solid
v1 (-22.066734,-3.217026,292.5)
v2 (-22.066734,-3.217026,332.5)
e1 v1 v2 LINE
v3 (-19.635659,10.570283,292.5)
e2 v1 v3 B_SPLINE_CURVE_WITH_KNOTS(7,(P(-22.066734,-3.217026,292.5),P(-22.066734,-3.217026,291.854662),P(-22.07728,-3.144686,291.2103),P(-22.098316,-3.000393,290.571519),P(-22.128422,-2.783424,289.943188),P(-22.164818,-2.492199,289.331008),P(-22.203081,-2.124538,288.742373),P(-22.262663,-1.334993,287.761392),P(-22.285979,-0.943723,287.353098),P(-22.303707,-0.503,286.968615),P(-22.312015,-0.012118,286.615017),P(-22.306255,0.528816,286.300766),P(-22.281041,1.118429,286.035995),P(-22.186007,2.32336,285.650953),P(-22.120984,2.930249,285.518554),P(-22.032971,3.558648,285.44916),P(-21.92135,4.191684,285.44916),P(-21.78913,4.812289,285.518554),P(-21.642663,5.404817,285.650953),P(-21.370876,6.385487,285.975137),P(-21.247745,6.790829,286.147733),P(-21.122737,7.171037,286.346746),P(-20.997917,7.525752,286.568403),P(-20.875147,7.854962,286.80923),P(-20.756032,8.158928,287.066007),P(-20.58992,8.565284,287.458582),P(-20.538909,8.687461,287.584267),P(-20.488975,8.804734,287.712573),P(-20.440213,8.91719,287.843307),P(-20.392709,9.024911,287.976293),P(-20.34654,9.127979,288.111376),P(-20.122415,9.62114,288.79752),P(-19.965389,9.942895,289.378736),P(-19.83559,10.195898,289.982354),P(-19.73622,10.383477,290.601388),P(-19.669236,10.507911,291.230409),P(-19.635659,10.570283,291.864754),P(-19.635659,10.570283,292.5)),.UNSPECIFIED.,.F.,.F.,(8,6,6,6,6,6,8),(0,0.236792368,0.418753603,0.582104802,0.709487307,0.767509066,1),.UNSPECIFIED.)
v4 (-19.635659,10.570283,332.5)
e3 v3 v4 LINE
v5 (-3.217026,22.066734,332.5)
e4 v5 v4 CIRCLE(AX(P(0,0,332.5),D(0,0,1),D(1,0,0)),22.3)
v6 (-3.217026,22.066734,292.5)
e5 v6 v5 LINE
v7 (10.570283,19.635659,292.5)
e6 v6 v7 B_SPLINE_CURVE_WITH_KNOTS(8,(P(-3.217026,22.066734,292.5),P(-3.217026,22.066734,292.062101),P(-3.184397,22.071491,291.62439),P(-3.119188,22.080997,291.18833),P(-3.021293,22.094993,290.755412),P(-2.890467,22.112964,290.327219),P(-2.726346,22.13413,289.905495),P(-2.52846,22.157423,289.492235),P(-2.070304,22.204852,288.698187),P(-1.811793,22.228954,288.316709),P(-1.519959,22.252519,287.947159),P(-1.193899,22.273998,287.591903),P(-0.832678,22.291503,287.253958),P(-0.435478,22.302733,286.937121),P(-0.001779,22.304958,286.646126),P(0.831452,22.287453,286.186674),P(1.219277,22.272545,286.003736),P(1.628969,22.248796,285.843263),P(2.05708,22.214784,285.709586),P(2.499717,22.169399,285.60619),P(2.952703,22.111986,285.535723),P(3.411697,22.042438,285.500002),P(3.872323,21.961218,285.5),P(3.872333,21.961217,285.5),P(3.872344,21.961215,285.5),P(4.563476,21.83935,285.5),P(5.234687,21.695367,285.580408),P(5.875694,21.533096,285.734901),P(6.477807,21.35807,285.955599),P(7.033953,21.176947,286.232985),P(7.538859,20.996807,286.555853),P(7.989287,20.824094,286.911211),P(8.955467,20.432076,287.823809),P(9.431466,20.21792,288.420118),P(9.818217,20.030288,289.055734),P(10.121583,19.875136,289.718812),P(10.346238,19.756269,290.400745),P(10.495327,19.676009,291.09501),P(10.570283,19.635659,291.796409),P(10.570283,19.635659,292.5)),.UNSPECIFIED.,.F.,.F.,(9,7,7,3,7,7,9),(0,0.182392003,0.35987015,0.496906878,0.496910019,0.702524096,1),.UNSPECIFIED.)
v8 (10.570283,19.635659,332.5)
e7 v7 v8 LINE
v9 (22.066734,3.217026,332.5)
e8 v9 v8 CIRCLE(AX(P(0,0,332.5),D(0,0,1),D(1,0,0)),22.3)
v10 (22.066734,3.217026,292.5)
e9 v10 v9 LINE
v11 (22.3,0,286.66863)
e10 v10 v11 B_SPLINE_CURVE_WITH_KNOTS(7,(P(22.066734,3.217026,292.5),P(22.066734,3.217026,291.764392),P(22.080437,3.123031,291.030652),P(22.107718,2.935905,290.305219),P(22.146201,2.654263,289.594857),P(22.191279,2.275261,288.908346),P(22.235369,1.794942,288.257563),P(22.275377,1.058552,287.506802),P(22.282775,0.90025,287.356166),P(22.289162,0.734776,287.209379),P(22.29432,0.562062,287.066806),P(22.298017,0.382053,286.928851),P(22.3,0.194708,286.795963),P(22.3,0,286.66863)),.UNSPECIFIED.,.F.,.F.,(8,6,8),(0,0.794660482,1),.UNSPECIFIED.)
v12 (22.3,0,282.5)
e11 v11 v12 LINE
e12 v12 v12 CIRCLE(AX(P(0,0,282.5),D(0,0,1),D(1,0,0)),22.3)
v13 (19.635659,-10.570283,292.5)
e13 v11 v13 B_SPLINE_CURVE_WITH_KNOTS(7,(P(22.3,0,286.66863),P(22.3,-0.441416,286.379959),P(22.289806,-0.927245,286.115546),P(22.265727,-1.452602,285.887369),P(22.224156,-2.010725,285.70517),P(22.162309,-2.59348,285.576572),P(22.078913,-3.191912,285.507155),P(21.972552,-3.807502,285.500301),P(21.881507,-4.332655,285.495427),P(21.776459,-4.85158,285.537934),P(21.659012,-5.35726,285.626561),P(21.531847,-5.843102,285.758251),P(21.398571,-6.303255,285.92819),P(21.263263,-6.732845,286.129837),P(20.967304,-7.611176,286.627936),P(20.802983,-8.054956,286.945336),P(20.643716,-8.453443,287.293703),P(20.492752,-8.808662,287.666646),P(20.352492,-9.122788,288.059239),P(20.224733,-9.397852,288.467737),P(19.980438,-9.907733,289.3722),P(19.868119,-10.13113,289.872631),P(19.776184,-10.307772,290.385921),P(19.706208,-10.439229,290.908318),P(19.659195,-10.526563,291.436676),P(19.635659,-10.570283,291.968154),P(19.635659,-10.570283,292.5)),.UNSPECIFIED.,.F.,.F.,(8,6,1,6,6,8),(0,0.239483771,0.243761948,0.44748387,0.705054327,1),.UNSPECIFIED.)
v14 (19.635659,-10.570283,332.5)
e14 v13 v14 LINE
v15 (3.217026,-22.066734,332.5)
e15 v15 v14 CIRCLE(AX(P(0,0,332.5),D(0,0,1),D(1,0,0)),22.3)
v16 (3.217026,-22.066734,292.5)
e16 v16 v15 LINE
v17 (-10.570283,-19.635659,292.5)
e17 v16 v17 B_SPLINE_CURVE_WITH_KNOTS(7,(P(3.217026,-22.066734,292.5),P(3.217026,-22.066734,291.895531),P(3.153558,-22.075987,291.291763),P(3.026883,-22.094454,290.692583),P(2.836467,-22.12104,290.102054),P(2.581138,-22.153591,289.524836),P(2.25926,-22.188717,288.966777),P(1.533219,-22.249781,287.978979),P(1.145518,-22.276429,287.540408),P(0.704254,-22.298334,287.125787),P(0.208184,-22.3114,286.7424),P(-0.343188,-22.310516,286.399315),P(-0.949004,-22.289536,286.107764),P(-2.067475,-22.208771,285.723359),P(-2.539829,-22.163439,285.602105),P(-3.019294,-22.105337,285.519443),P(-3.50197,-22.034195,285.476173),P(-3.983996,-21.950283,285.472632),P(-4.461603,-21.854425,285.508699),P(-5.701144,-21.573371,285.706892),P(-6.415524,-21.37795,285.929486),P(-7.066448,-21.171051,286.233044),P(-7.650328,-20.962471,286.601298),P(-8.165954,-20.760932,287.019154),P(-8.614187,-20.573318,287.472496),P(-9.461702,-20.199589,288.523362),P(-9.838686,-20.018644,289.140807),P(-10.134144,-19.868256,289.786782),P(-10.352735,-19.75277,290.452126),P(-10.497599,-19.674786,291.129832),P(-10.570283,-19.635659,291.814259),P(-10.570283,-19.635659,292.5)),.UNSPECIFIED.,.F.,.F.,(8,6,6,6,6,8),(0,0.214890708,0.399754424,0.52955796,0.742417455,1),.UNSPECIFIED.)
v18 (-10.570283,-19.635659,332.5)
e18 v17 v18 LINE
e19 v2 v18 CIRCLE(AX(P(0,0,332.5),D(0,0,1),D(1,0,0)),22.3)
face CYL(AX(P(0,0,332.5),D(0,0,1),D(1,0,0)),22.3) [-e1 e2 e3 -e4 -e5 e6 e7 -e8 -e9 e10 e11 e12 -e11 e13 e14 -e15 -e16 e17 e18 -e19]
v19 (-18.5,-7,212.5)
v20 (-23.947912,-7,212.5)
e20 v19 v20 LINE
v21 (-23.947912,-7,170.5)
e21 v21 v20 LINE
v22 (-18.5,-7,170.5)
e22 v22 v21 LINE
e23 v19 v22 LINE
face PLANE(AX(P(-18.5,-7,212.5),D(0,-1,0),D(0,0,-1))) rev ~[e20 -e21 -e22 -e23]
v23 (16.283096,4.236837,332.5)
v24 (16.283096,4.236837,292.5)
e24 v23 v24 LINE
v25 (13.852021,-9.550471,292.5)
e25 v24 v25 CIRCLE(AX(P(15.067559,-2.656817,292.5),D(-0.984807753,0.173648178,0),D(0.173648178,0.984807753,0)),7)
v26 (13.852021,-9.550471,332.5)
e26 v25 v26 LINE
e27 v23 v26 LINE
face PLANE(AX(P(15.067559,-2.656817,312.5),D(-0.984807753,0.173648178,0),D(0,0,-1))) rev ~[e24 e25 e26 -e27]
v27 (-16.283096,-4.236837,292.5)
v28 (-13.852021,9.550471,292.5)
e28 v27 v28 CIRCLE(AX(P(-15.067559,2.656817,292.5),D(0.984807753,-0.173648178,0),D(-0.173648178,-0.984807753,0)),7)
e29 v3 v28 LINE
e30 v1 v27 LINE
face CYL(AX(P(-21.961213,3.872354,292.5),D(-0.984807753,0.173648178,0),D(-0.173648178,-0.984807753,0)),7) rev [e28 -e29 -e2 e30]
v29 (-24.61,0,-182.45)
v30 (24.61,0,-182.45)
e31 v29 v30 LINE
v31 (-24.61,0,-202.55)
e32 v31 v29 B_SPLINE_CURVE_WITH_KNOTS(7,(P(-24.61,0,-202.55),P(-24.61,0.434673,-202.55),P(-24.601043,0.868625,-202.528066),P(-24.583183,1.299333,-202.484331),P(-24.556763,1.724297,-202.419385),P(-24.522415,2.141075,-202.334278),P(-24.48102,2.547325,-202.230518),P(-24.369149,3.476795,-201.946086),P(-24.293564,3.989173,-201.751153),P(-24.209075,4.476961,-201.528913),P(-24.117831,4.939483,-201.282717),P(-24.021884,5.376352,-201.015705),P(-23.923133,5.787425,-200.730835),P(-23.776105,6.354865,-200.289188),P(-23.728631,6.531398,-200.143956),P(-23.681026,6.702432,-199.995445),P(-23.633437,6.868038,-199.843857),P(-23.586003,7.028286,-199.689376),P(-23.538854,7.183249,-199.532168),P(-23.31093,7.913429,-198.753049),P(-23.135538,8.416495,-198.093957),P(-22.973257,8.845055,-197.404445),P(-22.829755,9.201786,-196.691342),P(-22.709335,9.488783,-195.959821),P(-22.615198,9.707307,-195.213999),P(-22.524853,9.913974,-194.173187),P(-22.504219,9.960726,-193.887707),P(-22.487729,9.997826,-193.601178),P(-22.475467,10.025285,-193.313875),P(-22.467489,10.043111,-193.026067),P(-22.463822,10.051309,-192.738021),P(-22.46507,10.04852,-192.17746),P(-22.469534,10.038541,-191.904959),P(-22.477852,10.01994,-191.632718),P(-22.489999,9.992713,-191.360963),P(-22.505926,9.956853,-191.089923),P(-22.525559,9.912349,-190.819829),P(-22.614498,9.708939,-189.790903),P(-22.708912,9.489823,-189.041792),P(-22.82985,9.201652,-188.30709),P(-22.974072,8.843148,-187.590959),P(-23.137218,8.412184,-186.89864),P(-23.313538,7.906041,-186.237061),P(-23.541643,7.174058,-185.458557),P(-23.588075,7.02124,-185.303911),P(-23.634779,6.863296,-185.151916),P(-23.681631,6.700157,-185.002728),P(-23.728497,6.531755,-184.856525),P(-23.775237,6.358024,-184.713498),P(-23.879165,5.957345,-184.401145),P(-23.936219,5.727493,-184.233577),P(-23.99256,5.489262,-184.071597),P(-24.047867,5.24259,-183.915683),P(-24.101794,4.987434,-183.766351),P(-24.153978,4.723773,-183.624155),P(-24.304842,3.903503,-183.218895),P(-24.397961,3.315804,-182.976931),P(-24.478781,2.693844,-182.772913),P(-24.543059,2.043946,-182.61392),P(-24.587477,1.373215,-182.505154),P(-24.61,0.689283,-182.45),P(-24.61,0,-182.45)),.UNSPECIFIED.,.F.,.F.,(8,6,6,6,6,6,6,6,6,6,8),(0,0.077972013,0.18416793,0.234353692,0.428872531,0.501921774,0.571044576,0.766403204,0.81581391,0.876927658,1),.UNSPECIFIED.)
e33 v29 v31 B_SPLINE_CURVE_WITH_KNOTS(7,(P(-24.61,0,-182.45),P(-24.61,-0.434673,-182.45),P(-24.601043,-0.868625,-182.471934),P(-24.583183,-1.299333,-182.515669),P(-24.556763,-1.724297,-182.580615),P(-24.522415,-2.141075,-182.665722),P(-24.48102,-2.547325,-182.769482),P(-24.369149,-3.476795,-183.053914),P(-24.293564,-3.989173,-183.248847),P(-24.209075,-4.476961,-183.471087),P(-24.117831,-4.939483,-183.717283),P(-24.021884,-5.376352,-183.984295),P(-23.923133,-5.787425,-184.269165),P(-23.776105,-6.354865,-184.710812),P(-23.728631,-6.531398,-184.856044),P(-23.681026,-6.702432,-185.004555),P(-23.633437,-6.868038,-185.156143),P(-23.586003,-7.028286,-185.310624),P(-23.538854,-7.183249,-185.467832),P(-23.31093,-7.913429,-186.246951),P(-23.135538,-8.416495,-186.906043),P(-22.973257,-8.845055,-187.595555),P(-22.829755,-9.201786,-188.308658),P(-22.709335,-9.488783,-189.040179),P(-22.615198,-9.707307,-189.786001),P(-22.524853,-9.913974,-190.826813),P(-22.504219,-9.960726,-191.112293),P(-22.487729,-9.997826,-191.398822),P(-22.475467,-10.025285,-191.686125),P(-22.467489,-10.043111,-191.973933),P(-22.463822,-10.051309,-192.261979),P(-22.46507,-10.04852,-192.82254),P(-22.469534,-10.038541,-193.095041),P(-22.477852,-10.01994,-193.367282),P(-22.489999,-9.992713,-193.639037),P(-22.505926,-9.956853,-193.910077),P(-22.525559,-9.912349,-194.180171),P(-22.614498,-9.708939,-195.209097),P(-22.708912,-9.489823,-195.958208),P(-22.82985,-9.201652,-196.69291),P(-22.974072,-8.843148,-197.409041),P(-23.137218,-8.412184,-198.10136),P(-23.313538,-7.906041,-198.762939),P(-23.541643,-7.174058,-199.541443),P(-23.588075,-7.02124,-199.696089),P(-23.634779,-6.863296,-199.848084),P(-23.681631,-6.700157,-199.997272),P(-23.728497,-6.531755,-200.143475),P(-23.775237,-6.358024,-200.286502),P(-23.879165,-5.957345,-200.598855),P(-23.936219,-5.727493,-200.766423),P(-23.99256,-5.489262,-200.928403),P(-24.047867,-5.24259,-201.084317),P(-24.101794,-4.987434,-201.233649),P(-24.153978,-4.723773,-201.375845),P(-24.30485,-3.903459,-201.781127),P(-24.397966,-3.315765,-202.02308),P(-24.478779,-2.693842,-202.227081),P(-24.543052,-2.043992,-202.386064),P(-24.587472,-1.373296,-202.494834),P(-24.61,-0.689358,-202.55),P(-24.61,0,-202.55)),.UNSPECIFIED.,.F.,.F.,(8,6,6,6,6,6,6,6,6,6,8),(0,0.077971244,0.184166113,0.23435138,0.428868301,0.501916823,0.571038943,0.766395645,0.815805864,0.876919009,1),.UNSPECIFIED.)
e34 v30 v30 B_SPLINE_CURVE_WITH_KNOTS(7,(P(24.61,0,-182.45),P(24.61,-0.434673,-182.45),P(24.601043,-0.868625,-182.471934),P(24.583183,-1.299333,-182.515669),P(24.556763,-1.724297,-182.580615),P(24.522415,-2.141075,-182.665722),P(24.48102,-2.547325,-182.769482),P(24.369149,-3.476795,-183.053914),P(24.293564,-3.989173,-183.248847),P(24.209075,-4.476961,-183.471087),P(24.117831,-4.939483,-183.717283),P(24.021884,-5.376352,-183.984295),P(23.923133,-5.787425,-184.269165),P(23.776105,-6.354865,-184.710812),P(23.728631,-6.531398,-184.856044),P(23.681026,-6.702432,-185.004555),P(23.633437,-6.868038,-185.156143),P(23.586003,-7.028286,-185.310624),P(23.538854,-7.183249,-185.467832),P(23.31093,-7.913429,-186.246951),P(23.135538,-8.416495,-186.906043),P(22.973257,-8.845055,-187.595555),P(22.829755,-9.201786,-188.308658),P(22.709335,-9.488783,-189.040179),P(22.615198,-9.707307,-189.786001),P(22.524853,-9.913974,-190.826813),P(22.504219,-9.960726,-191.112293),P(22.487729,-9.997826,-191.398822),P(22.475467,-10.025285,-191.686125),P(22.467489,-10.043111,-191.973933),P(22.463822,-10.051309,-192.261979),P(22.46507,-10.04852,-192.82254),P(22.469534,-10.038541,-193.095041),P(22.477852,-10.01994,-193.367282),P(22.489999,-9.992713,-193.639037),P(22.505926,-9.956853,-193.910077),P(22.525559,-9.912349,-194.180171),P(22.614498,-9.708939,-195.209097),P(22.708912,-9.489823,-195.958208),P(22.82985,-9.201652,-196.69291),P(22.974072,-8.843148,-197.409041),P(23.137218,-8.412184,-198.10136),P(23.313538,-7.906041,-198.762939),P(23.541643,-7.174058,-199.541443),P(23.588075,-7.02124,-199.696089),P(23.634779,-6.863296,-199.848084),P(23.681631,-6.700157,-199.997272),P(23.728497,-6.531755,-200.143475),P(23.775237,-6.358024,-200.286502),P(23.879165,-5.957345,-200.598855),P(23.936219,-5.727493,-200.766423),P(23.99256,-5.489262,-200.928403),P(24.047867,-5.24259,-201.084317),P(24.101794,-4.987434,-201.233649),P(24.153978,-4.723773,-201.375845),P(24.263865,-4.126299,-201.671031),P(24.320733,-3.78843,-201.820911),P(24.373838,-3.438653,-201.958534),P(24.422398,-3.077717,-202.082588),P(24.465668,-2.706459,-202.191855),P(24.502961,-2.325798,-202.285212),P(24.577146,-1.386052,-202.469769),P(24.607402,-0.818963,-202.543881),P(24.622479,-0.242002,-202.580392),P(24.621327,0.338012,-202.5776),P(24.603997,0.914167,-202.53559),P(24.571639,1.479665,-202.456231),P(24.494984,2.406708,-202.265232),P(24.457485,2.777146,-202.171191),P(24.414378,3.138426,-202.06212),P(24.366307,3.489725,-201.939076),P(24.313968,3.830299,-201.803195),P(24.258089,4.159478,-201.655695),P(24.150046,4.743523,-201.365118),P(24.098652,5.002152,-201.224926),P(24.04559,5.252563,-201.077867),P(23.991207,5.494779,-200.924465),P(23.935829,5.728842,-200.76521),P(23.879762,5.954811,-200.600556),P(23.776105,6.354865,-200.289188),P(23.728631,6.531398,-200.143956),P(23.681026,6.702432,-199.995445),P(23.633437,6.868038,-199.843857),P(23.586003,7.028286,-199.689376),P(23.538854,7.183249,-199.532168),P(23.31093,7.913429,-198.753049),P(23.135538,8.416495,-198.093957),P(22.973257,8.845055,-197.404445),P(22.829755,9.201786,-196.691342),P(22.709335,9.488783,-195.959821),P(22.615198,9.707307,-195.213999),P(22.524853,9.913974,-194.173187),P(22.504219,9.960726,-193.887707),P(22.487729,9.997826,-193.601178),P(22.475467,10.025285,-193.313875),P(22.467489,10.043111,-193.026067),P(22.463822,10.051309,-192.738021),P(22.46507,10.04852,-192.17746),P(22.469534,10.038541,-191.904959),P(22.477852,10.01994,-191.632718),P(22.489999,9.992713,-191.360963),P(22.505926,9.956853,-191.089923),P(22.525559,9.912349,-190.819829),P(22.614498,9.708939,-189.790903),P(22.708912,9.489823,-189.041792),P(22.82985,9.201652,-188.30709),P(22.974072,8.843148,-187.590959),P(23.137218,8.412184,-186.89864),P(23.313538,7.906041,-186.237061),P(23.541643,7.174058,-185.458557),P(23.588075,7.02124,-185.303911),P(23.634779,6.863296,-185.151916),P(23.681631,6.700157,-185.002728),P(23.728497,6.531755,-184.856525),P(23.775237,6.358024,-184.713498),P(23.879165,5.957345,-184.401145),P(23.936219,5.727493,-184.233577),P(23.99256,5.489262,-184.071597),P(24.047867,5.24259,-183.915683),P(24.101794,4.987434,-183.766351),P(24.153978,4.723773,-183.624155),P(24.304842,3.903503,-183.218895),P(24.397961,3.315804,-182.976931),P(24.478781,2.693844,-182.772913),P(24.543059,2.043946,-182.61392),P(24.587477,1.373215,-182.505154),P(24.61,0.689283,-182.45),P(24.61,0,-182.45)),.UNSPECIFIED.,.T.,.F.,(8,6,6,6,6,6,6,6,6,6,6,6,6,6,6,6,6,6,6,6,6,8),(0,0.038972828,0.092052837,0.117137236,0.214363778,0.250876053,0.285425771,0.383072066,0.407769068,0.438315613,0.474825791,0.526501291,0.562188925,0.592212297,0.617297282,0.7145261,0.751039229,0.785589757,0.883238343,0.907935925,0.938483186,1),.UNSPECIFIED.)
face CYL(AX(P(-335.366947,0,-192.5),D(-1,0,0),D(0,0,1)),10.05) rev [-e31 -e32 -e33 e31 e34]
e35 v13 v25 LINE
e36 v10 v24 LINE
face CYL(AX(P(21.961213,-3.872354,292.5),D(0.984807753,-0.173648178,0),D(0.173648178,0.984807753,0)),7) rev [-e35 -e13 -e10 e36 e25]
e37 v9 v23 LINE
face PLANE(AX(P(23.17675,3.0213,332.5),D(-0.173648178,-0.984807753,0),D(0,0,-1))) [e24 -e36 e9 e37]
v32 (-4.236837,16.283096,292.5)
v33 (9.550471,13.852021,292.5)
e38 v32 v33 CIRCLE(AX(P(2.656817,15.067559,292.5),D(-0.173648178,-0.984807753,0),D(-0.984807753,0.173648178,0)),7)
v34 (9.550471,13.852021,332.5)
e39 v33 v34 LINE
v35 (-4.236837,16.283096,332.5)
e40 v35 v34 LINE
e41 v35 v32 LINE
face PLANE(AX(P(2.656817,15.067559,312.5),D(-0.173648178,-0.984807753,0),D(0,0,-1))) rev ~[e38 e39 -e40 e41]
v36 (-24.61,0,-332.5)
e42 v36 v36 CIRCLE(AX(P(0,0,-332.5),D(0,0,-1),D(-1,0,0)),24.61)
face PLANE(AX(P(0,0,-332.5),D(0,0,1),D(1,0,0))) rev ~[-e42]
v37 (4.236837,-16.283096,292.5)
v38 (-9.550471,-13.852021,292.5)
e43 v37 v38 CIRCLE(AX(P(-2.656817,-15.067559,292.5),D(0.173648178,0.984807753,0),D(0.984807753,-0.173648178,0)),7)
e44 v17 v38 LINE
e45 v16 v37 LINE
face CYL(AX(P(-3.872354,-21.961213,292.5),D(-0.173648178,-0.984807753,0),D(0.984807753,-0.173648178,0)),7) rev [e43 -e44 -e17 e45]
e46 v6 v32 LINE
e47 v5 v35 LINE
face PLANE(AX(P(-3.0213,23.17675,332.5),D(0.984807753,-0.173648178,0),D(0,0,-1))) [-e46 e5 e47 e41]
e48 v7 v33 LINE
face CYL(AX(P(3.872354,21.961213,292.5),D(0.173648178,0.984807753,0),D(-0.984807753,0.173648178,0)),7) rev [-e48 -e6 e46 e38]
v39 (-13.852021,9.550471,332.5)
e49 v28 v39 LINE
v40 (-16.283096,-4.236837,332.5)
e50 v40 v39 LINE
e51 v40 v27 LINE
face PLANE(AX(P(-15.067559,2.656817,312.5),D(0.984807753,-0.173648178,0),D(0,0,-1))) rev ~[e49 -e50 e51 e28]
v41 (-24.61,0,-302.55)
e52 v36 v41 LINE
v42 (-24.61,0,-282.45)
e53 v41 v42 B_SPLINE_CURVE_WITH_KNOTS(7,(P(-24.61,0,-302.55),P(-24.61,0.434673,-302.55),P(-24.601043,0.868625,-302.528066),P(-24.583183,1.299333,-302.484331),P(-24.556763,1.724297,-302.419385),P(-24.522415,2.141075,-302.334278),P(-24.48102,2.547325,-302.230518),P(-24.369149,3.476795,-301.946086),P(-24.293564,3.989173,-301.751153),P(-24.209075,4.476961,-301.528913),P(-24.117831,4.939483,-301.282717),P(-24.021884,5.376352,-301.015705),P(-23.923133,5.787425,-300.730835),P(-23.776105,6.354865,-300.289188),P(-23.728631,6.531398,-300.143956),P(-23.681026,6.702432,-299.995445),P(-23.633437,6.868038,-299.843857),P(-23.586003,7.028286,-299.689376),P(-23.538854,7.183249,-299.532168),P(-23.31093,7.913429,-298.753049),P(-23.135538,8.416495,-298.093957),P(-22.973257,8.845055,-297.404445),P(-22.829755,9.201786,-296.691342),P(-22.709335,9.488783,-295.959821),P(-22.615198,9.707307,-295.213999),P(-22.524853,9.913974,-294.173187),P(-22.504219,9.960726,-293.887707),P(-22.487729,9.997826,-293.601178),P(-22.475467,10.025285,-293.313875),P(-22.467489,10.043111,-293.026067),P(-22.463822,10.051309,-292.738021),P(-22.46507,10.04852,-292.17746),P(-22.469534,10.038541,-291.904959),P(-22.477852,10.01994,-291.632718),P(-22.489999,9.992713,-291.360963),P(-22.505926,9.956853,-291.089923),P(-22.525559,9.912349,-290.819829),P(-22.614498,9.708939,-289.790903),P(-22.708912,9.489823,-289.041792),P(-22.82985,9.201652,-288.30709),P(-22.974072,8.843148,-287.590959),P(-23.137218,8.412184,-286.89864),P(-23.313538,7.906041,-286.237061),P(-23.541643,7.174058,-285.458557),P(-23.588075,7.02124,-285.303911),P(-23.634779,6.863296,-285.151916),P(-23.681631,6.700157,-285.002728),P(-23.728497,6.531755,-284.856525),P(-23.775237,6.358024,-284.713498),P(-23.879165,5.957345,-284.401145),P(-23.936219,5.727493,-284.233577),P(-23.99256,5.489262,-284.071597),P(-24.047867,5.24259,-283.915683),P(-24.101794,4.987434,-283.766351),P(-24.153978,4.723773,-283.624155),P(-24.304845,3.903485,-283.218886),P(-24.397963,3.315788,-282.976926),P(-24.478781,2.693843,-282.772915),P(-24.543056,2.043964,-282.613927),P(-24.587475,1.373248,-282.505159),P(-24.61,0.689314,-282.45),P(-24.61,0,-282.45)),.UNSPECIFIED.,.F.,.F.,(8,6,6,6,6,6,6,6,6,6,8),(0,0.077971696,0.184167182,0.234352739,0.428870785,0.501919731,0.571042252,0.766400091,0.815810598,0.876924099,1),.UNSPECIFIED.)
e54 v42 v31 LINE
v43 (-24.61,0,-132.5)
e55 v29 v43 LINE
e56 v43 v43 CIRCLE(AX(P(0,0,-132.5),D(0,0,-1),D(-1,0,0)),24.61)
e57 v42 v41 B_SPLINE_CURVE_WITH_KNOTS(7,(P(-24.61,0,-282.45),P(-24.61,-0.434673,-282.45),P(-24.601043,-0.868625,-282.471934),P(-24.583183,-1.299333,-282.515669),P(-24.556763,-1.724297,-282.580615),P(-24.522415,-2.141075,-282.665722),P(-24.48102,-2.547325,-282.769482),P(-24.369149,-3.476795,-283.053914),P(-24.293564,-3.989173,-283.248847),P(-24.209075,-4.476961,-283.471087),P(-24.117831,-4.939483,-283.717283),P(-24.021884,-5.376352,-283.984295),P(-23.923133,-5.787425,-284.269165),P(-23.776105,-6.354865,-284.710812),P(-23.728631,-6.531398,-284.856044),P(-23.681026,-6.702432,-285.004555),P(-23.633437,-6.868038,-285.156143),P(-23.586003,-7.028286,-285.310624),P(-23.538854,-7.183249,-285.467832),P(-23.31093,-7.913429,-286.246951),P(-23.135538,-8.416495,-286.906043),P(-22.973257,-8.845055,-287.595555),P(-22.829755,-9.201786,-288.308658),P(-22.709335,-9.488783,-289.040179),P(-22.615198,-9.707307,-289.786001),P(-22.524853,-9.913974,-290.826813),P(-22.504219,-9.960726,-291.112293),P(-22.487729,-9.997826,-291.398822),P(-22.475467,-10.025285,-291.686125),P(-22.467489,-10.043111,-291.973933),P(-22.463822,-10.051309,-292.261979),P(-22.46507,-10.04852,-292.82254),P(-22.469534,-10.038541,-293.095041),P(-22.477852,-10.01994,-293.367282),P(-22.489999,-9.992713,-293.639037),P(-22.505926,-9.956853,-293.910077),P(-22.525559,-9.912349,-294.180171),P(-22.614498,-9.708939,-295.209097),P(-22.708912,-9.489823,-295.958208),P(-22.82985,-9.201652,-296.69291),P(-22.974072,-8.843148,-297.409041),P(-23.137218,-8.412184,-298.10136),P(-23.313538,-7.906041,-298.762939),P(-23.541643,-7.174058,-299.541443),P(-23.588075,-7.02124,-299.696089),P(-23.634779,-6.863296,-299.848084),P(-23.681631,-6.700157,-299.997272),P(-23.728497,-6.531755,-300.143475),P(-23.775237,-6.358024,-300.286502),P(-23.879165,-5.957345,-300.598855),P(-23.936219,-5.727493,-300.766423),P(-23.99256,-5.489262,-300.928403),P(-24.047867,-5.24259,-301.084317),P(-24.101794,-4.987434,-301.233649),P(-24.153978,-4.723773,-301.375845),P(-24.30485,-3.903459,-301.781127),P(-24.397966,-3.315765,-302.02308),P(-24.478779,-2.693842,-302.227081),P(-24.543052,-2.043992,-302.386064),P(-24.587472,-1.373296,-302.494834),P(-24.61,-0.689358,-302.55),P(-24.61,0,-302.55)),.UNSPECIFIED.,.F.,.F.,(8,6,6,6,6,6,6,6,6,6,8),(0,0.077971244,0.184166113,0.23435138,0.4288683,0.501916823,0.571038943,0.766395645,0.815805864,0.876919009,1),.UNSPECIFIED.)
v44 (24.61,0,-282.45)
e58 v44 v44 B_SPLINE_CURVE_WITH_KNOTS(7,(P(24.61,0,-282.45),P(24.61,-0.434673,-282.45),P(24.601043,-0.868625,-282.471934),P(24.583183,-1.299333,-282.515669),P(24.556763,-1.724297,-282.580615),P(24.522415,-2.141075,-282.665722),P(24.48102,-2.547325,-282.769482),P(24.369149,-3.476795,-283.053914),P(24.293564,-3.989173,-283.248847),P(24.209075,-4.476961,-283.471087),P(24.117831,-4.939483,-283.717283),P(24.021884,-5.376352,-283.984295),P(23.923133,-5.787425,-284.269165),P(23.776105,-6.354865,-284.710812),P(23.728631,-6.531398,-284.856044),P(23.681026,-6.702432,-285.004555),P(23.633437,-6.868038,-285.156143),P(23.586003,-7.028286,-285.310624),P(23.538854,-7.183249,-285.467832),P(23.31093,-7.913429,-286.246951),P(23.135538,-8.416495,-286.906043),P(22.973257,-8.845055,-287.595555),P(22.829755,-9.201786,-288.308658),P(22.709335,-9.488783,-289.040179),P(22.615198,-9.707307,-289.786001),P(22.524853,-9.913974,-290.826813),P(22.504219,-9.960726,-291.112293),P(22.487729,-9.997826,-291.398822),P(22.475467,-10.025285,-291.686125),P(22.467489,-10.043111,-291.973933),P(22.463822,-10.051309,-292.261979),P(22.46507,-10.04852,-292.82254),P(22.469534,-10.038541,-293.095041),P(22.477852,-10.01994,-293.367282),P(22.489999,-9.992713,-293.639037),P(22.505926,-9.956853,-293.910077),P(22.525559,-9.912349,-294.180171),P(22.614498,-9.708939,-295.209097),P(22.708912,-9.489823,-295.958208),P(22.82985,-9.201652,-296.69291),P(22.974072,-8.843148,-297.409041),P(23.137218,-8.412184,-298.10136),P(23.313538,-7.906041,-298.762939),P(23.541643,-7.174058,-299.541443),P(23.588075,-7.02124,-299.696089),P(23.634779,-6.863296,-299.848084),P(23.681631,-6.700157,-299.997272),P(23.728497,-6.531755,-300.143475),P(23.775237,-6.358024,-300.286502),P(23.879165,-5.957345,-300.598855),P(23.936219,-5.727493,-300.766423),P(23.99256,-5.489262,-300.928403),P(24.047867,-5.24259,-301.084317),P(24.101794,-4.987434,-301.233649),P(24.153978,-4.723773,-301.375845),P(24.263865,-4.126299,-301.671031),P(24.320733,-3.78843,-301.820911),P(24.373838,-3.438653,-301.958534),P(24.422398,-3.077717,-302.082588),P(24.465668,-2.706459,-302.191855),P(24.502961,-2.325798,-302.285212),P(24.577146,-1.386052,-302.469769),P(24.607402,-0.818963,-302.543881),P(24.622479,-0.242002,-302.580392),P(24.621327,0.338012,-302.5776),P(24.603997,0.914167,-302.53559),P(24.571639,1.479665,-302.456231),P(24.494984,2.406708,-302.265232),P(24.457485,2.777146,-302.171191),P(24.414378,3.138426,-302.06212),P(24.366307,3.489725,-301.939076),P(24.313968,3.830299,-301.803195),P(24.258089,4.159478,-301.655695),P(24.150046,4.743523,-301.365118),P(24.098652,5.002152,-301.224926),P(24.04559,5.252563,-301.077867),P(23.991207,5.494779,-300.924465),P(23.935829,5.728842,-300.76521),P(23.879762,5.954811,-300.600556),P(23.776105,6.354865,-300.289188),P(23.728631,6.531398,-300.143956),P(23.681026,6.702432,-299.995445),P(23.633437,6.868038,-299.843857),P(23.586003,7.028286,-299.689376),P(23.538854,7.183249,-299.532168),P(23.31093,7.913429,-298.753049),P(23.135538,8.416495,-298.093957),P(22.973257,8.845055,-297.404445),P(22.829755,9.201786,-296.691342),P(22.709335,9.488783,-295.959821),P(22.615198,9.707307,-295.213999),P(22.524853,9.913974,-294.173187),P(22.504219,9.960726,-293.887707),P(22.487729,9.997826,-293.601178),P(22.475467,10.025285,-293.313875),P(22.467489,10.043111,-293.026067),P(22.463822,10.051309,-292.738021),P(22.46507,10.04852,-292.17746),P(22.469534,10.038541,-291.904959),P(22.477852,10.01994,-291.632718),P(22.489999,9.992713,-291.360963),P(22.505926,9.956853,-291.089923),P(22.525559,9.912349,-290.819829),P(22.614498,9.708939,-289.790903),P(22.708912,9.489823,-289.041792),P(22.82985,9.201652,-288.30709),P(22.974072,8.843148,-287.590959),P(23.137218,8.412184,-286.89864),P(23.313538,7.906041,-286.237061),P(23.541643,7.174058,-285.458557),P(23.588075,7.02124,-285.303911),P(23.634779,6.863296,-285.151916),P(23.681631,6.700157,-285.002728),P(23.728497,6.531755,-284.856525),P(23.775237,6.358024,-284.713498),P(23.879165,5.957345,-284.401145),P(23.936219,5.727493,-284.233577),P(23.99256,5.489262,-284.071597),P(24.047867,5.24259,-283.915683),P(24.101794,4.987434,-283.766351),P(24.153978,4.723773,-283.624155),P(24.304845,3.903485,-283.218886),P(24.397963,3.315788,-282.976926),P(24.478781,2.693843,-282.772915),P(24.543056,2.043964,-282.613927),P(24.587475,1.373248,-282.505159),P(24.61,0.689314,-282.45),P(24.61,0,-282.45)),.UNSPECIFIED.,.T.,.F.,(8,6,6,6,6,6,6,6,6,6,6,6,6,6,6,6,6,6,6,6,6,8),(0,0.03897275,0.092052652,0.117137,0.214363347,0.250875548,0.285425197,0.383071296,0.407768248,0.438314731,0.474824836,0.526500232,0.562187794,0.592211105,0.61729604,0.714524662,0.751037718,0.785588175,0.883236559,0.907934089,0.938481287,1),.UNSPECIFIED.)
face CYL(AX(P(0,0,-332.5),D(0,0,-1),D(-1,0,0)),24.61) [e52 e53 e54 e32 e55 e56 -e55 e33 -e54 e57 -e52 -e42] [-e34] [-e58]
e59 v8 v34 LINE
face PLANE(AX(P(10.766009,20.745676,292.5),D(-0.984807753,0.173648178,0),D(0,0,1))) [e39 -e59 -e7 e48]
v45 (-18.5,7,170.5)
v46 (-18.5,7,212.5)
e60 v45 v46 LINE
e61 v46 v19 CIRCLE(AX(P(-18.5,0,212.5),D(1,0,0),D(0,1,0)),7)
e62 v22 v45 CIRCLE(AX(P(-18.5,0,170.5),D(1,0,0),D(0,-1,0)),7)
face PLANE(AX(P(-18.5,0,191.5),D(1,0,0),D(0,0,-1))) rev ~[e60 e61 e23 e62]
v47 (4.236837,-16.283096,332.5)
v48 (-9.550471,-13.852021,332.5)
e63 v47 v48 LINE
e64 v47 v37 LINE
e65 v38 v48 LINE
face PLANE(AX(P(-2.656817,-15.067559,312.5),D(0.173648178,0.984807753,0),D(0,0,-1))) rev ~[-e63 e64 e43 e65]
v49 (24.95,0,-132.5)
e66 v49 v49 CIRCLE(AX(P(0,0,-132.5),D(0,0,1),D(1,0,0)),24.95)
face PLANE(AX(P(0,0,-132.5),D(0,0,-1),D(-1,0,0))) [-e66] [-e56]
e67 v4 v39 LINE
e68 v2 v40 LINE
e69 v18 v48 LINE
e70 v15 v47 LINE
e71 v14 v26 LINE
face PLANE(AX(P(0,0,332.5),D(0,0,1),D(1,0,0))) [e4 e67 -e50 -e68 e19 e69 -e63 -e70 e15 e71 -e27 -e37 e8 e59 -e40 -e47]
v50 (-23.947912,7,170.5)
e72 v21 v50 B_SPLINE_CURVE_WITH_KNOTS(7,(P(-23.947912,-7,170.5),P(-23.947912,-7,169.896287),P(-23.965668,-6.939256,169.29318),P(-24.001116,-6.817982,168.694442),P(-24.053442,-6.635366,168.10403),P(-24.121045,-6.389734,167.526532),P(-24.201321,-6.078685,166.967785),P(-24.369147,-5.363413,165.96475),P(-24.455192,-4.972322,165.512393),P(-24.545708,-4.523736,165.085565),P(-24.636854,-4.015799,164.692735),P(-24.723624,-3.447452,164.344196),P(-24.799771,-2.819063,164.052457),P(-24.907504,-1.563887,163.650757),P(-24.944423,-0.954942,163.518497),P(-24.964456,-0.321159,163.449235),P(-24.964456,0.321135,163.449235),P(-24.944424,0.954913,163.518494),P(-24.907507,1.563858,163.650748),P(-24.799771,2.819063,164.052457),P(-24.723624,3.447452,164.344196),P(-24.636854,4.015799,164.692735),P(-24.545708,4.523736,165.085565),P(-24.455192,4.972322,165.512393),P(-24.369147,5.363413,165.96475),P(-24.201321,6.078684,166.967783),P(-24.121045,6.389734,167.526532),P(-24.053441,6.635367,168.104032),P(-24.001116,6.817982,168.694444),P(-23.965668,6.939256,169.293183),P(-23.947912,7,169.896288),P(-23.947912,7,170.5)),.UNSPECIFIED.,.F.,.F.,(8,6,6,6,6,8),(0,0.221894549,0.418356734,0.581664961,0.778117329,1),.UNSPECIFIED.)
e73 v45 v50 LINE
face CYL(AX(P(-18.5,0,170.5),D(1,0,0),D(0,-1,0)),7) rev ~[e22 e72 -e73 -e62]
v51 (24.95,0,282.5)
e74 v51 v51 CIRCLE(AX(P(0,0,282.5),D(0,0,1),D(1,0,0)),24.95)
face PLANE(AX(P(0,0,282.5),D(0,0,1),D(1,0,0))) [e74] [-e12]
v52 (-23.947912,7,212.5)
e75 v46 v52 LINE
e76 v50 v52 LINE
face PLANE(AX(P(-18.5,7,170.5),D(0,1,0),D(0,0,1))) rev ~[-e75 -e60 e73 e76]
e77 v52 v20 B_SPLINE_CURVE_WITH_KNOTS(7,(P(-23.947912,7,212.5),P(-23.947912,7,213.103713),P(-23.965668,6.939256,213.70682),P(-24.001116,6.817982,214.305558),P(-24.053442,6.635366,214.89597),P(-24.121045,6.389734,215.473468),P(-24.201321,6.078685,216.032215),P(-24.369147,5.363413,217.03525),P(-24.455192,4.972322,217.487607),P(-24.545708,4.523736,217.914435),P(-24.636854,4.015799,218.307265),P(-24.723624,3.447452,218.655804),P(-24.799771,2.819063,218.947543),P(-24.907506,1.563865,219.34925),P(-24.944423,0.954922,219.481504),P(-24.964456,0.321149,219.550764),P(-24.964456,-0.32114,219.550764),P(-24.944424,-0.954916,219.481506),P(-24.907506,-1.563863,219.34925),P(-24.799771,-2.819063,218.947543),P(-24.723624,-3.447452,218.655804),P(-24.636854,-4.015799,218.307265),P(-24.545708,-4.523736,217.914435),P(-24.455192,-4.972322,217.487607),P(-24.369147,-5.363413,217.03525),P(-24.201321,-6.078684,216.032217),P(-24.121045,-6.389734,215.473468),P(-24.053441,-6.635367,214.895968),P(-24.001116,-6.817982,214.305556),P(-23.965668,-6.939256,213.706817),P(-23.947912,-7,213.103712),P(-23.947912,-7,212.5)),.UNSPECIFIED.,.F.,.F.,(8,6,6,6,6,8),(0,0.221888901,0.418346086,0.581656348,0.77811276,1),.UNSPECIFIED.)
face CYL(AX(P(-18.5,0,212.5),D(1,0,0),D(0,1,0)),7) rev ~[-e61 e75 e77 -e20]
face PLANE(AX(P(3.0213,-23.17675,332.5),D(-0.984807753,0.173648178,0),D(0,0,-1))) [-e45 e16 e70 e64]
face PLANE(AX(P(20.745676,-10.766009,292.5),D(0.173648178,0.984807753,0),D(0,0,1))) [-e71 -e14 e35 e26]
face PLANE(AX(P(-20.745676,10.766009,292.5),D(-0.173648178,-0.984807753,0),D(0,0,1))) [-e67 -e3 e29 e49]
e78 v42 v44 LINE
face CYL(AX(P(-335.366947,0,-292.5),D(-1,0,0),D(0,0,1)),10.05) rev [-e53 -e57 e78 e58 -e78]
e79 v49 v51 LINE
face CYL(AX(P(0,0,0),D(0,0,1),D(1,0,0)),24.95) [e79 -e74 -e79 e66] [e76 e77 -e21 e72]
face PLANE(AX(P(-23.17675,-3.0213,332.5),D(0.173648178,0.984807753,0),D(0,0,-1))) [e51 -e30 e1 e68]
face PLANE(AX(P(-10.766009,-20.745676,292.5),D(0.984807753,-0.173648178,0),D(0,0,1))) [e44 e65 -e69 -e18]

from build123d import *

# Parameters (mm, degrees)
SKETCH1_R               = 24.95
BOSS_EXTRUDE1_DEPTH     = 332.5
CUT_EXTRUDE1_DEPTH      = 335.366946632
CUT_EXTRUDE1_DEPTH_BACK = 335.366946632
SKETCH2_R               = 10.05
CUT_EXTRUDE2_DEPTH      = 337.253855116
SKETCH5_OUTSIDE_W       = 185.646
SKETCH5_OUTSIDE_H       = 185.646
SKETCH5_OUTSIDE_R       = 24.61
CUT_EXTRUDE4_DEPTH      = 200
SKETCH7_OUTSIDE_W       = 185.646
SKETCH7_OUTSIDE_H       = 185.646
SKETCH7_OUTSIDE_R       = 22.3
CUT_EXTRUDE6_DEPTH      = 50
CUT_EXTRUDE7_DEPTH      = 7
CIRPATTERN1_COUNT       = 4


with BuildPart() as part:
    # Sketch1 → Boss-Extrude1 (new, symmetric)
    with BuildSketch(Plane.XY):
        Circle(SKETCH1_R)
    extrude(amount=BOSS_EXTRUDE1_DEPTH, both=True)

    # Sketch2 → Cut-Extrude1 (cut, two sides: drawn at the far end of the back side and taken through both)
    with BuildSketch(Plane(origin=(0, 0, 0), x_dir=(0, 0, -1), z_dir=(1, 0, 0)).offset(-CUT_EXTRUDE1_DEPTH_BACK)):
        with Locations((192.5, 0)):
            Circle(SKETCH2_R)
        with Locations((292.5, 0)):
            Circle(SKETCH2_R)
    extrude(amount=CUT_EXTRUDE1_DEPTH + CUT_EXTRUDE1_DEPTH_BACK, mode=Mode.SUBTRACT)

    # Sketch3 → Cut-Extrude2 (cut, through all)
    with BuildSketch(Plane(origin=(-18.5, 0, 0), x_dir=(0, 0, -1), z_dir=(1, 0, 0))):
        with BuildLine():
            Line((-212.5, -7), (-170.5, -7))
            ThreePointArc((-170.5, -7), (-163.5, 0), (-170.5, 7))
            Line((-170.5, 7), (-212.5, 7))
            ThreePointArc((-212.5, 7), (-219.5, 0), (-212.5, -7))
        make_face()
    extrude(amount=-CUT_EXTRUDE2_DEPTH, mode=Mode.SUBTRACT)

    # Sketch5 outside → Cut-Extrude4 (cut)
    with BuildSketch(Plane(origin=(0, 0, -332.5), x_dir=(-1, 0, 0), z_dir=(0, 0, -1))):
        Rectangle(SKETCH5_OUTSIDE_W, SKETCH5_OUTSIDE_H)
        Circle(SKETCH5_OUTSIDE_R, mode=Mode.SUBTRACT)
    extrude(amount=-CUT_EXTRUDE4_DEPTH, mode=Mode.SUBTRACT)

    # Sketch7 outside → Cut-Extrude6 (cut)
    with BuildSketch(Plane.XY.offset(332.5)):
        Rectangle(SKETCH7_OUTSIDE_W, SKETCH7_OUTSIDE_H)
        Circle(SKETCH7_OUTSIDE_R, mode=Mode.SUBTRACT)
    extrude(amount=-CUT_EXTRUDE6_DEPTH, mode=Mode.SUBTRACT)

    # Sketch8 → Cut-Extrude7 (cut)
    with BuildSketch(Plane(origin=(3.872354362, 21.961212892, 0), x_dir=(0, 0, 1), z_dir=(0.1736481776669241, 0.9848077530122091, 0))):
        with BuildLine():
            Line((292.5, 7), (332.5, 7))
            ThreePointArc((332.5, 7), (339.5, 0), (332.5, -7))
            Line((332.5, -7), (292.5, -7))
            ThreePointArc((292.5, -7), (285.5, 0), (292.5, 7))
        make_face()
    cut_extrude7 = extrude(amount=-CUT_EXTRUDE7_DEPTH, mode=Mode.SUBTRACT)

    # CirPattern1: Cut-Extrude7 ×4 about axis
    cirpattern1_axis = Axis((0, 0, 282.5), (0, 0, 1))
    for i in range(1, CIRPATTERN1_COUNT):
        add(cut_extrude7.rotate(cirpattern1_axis, i * 360 / CIRPATTERN1_COUNT), mode=Mode.SUBTRACT)


solid = part.part
